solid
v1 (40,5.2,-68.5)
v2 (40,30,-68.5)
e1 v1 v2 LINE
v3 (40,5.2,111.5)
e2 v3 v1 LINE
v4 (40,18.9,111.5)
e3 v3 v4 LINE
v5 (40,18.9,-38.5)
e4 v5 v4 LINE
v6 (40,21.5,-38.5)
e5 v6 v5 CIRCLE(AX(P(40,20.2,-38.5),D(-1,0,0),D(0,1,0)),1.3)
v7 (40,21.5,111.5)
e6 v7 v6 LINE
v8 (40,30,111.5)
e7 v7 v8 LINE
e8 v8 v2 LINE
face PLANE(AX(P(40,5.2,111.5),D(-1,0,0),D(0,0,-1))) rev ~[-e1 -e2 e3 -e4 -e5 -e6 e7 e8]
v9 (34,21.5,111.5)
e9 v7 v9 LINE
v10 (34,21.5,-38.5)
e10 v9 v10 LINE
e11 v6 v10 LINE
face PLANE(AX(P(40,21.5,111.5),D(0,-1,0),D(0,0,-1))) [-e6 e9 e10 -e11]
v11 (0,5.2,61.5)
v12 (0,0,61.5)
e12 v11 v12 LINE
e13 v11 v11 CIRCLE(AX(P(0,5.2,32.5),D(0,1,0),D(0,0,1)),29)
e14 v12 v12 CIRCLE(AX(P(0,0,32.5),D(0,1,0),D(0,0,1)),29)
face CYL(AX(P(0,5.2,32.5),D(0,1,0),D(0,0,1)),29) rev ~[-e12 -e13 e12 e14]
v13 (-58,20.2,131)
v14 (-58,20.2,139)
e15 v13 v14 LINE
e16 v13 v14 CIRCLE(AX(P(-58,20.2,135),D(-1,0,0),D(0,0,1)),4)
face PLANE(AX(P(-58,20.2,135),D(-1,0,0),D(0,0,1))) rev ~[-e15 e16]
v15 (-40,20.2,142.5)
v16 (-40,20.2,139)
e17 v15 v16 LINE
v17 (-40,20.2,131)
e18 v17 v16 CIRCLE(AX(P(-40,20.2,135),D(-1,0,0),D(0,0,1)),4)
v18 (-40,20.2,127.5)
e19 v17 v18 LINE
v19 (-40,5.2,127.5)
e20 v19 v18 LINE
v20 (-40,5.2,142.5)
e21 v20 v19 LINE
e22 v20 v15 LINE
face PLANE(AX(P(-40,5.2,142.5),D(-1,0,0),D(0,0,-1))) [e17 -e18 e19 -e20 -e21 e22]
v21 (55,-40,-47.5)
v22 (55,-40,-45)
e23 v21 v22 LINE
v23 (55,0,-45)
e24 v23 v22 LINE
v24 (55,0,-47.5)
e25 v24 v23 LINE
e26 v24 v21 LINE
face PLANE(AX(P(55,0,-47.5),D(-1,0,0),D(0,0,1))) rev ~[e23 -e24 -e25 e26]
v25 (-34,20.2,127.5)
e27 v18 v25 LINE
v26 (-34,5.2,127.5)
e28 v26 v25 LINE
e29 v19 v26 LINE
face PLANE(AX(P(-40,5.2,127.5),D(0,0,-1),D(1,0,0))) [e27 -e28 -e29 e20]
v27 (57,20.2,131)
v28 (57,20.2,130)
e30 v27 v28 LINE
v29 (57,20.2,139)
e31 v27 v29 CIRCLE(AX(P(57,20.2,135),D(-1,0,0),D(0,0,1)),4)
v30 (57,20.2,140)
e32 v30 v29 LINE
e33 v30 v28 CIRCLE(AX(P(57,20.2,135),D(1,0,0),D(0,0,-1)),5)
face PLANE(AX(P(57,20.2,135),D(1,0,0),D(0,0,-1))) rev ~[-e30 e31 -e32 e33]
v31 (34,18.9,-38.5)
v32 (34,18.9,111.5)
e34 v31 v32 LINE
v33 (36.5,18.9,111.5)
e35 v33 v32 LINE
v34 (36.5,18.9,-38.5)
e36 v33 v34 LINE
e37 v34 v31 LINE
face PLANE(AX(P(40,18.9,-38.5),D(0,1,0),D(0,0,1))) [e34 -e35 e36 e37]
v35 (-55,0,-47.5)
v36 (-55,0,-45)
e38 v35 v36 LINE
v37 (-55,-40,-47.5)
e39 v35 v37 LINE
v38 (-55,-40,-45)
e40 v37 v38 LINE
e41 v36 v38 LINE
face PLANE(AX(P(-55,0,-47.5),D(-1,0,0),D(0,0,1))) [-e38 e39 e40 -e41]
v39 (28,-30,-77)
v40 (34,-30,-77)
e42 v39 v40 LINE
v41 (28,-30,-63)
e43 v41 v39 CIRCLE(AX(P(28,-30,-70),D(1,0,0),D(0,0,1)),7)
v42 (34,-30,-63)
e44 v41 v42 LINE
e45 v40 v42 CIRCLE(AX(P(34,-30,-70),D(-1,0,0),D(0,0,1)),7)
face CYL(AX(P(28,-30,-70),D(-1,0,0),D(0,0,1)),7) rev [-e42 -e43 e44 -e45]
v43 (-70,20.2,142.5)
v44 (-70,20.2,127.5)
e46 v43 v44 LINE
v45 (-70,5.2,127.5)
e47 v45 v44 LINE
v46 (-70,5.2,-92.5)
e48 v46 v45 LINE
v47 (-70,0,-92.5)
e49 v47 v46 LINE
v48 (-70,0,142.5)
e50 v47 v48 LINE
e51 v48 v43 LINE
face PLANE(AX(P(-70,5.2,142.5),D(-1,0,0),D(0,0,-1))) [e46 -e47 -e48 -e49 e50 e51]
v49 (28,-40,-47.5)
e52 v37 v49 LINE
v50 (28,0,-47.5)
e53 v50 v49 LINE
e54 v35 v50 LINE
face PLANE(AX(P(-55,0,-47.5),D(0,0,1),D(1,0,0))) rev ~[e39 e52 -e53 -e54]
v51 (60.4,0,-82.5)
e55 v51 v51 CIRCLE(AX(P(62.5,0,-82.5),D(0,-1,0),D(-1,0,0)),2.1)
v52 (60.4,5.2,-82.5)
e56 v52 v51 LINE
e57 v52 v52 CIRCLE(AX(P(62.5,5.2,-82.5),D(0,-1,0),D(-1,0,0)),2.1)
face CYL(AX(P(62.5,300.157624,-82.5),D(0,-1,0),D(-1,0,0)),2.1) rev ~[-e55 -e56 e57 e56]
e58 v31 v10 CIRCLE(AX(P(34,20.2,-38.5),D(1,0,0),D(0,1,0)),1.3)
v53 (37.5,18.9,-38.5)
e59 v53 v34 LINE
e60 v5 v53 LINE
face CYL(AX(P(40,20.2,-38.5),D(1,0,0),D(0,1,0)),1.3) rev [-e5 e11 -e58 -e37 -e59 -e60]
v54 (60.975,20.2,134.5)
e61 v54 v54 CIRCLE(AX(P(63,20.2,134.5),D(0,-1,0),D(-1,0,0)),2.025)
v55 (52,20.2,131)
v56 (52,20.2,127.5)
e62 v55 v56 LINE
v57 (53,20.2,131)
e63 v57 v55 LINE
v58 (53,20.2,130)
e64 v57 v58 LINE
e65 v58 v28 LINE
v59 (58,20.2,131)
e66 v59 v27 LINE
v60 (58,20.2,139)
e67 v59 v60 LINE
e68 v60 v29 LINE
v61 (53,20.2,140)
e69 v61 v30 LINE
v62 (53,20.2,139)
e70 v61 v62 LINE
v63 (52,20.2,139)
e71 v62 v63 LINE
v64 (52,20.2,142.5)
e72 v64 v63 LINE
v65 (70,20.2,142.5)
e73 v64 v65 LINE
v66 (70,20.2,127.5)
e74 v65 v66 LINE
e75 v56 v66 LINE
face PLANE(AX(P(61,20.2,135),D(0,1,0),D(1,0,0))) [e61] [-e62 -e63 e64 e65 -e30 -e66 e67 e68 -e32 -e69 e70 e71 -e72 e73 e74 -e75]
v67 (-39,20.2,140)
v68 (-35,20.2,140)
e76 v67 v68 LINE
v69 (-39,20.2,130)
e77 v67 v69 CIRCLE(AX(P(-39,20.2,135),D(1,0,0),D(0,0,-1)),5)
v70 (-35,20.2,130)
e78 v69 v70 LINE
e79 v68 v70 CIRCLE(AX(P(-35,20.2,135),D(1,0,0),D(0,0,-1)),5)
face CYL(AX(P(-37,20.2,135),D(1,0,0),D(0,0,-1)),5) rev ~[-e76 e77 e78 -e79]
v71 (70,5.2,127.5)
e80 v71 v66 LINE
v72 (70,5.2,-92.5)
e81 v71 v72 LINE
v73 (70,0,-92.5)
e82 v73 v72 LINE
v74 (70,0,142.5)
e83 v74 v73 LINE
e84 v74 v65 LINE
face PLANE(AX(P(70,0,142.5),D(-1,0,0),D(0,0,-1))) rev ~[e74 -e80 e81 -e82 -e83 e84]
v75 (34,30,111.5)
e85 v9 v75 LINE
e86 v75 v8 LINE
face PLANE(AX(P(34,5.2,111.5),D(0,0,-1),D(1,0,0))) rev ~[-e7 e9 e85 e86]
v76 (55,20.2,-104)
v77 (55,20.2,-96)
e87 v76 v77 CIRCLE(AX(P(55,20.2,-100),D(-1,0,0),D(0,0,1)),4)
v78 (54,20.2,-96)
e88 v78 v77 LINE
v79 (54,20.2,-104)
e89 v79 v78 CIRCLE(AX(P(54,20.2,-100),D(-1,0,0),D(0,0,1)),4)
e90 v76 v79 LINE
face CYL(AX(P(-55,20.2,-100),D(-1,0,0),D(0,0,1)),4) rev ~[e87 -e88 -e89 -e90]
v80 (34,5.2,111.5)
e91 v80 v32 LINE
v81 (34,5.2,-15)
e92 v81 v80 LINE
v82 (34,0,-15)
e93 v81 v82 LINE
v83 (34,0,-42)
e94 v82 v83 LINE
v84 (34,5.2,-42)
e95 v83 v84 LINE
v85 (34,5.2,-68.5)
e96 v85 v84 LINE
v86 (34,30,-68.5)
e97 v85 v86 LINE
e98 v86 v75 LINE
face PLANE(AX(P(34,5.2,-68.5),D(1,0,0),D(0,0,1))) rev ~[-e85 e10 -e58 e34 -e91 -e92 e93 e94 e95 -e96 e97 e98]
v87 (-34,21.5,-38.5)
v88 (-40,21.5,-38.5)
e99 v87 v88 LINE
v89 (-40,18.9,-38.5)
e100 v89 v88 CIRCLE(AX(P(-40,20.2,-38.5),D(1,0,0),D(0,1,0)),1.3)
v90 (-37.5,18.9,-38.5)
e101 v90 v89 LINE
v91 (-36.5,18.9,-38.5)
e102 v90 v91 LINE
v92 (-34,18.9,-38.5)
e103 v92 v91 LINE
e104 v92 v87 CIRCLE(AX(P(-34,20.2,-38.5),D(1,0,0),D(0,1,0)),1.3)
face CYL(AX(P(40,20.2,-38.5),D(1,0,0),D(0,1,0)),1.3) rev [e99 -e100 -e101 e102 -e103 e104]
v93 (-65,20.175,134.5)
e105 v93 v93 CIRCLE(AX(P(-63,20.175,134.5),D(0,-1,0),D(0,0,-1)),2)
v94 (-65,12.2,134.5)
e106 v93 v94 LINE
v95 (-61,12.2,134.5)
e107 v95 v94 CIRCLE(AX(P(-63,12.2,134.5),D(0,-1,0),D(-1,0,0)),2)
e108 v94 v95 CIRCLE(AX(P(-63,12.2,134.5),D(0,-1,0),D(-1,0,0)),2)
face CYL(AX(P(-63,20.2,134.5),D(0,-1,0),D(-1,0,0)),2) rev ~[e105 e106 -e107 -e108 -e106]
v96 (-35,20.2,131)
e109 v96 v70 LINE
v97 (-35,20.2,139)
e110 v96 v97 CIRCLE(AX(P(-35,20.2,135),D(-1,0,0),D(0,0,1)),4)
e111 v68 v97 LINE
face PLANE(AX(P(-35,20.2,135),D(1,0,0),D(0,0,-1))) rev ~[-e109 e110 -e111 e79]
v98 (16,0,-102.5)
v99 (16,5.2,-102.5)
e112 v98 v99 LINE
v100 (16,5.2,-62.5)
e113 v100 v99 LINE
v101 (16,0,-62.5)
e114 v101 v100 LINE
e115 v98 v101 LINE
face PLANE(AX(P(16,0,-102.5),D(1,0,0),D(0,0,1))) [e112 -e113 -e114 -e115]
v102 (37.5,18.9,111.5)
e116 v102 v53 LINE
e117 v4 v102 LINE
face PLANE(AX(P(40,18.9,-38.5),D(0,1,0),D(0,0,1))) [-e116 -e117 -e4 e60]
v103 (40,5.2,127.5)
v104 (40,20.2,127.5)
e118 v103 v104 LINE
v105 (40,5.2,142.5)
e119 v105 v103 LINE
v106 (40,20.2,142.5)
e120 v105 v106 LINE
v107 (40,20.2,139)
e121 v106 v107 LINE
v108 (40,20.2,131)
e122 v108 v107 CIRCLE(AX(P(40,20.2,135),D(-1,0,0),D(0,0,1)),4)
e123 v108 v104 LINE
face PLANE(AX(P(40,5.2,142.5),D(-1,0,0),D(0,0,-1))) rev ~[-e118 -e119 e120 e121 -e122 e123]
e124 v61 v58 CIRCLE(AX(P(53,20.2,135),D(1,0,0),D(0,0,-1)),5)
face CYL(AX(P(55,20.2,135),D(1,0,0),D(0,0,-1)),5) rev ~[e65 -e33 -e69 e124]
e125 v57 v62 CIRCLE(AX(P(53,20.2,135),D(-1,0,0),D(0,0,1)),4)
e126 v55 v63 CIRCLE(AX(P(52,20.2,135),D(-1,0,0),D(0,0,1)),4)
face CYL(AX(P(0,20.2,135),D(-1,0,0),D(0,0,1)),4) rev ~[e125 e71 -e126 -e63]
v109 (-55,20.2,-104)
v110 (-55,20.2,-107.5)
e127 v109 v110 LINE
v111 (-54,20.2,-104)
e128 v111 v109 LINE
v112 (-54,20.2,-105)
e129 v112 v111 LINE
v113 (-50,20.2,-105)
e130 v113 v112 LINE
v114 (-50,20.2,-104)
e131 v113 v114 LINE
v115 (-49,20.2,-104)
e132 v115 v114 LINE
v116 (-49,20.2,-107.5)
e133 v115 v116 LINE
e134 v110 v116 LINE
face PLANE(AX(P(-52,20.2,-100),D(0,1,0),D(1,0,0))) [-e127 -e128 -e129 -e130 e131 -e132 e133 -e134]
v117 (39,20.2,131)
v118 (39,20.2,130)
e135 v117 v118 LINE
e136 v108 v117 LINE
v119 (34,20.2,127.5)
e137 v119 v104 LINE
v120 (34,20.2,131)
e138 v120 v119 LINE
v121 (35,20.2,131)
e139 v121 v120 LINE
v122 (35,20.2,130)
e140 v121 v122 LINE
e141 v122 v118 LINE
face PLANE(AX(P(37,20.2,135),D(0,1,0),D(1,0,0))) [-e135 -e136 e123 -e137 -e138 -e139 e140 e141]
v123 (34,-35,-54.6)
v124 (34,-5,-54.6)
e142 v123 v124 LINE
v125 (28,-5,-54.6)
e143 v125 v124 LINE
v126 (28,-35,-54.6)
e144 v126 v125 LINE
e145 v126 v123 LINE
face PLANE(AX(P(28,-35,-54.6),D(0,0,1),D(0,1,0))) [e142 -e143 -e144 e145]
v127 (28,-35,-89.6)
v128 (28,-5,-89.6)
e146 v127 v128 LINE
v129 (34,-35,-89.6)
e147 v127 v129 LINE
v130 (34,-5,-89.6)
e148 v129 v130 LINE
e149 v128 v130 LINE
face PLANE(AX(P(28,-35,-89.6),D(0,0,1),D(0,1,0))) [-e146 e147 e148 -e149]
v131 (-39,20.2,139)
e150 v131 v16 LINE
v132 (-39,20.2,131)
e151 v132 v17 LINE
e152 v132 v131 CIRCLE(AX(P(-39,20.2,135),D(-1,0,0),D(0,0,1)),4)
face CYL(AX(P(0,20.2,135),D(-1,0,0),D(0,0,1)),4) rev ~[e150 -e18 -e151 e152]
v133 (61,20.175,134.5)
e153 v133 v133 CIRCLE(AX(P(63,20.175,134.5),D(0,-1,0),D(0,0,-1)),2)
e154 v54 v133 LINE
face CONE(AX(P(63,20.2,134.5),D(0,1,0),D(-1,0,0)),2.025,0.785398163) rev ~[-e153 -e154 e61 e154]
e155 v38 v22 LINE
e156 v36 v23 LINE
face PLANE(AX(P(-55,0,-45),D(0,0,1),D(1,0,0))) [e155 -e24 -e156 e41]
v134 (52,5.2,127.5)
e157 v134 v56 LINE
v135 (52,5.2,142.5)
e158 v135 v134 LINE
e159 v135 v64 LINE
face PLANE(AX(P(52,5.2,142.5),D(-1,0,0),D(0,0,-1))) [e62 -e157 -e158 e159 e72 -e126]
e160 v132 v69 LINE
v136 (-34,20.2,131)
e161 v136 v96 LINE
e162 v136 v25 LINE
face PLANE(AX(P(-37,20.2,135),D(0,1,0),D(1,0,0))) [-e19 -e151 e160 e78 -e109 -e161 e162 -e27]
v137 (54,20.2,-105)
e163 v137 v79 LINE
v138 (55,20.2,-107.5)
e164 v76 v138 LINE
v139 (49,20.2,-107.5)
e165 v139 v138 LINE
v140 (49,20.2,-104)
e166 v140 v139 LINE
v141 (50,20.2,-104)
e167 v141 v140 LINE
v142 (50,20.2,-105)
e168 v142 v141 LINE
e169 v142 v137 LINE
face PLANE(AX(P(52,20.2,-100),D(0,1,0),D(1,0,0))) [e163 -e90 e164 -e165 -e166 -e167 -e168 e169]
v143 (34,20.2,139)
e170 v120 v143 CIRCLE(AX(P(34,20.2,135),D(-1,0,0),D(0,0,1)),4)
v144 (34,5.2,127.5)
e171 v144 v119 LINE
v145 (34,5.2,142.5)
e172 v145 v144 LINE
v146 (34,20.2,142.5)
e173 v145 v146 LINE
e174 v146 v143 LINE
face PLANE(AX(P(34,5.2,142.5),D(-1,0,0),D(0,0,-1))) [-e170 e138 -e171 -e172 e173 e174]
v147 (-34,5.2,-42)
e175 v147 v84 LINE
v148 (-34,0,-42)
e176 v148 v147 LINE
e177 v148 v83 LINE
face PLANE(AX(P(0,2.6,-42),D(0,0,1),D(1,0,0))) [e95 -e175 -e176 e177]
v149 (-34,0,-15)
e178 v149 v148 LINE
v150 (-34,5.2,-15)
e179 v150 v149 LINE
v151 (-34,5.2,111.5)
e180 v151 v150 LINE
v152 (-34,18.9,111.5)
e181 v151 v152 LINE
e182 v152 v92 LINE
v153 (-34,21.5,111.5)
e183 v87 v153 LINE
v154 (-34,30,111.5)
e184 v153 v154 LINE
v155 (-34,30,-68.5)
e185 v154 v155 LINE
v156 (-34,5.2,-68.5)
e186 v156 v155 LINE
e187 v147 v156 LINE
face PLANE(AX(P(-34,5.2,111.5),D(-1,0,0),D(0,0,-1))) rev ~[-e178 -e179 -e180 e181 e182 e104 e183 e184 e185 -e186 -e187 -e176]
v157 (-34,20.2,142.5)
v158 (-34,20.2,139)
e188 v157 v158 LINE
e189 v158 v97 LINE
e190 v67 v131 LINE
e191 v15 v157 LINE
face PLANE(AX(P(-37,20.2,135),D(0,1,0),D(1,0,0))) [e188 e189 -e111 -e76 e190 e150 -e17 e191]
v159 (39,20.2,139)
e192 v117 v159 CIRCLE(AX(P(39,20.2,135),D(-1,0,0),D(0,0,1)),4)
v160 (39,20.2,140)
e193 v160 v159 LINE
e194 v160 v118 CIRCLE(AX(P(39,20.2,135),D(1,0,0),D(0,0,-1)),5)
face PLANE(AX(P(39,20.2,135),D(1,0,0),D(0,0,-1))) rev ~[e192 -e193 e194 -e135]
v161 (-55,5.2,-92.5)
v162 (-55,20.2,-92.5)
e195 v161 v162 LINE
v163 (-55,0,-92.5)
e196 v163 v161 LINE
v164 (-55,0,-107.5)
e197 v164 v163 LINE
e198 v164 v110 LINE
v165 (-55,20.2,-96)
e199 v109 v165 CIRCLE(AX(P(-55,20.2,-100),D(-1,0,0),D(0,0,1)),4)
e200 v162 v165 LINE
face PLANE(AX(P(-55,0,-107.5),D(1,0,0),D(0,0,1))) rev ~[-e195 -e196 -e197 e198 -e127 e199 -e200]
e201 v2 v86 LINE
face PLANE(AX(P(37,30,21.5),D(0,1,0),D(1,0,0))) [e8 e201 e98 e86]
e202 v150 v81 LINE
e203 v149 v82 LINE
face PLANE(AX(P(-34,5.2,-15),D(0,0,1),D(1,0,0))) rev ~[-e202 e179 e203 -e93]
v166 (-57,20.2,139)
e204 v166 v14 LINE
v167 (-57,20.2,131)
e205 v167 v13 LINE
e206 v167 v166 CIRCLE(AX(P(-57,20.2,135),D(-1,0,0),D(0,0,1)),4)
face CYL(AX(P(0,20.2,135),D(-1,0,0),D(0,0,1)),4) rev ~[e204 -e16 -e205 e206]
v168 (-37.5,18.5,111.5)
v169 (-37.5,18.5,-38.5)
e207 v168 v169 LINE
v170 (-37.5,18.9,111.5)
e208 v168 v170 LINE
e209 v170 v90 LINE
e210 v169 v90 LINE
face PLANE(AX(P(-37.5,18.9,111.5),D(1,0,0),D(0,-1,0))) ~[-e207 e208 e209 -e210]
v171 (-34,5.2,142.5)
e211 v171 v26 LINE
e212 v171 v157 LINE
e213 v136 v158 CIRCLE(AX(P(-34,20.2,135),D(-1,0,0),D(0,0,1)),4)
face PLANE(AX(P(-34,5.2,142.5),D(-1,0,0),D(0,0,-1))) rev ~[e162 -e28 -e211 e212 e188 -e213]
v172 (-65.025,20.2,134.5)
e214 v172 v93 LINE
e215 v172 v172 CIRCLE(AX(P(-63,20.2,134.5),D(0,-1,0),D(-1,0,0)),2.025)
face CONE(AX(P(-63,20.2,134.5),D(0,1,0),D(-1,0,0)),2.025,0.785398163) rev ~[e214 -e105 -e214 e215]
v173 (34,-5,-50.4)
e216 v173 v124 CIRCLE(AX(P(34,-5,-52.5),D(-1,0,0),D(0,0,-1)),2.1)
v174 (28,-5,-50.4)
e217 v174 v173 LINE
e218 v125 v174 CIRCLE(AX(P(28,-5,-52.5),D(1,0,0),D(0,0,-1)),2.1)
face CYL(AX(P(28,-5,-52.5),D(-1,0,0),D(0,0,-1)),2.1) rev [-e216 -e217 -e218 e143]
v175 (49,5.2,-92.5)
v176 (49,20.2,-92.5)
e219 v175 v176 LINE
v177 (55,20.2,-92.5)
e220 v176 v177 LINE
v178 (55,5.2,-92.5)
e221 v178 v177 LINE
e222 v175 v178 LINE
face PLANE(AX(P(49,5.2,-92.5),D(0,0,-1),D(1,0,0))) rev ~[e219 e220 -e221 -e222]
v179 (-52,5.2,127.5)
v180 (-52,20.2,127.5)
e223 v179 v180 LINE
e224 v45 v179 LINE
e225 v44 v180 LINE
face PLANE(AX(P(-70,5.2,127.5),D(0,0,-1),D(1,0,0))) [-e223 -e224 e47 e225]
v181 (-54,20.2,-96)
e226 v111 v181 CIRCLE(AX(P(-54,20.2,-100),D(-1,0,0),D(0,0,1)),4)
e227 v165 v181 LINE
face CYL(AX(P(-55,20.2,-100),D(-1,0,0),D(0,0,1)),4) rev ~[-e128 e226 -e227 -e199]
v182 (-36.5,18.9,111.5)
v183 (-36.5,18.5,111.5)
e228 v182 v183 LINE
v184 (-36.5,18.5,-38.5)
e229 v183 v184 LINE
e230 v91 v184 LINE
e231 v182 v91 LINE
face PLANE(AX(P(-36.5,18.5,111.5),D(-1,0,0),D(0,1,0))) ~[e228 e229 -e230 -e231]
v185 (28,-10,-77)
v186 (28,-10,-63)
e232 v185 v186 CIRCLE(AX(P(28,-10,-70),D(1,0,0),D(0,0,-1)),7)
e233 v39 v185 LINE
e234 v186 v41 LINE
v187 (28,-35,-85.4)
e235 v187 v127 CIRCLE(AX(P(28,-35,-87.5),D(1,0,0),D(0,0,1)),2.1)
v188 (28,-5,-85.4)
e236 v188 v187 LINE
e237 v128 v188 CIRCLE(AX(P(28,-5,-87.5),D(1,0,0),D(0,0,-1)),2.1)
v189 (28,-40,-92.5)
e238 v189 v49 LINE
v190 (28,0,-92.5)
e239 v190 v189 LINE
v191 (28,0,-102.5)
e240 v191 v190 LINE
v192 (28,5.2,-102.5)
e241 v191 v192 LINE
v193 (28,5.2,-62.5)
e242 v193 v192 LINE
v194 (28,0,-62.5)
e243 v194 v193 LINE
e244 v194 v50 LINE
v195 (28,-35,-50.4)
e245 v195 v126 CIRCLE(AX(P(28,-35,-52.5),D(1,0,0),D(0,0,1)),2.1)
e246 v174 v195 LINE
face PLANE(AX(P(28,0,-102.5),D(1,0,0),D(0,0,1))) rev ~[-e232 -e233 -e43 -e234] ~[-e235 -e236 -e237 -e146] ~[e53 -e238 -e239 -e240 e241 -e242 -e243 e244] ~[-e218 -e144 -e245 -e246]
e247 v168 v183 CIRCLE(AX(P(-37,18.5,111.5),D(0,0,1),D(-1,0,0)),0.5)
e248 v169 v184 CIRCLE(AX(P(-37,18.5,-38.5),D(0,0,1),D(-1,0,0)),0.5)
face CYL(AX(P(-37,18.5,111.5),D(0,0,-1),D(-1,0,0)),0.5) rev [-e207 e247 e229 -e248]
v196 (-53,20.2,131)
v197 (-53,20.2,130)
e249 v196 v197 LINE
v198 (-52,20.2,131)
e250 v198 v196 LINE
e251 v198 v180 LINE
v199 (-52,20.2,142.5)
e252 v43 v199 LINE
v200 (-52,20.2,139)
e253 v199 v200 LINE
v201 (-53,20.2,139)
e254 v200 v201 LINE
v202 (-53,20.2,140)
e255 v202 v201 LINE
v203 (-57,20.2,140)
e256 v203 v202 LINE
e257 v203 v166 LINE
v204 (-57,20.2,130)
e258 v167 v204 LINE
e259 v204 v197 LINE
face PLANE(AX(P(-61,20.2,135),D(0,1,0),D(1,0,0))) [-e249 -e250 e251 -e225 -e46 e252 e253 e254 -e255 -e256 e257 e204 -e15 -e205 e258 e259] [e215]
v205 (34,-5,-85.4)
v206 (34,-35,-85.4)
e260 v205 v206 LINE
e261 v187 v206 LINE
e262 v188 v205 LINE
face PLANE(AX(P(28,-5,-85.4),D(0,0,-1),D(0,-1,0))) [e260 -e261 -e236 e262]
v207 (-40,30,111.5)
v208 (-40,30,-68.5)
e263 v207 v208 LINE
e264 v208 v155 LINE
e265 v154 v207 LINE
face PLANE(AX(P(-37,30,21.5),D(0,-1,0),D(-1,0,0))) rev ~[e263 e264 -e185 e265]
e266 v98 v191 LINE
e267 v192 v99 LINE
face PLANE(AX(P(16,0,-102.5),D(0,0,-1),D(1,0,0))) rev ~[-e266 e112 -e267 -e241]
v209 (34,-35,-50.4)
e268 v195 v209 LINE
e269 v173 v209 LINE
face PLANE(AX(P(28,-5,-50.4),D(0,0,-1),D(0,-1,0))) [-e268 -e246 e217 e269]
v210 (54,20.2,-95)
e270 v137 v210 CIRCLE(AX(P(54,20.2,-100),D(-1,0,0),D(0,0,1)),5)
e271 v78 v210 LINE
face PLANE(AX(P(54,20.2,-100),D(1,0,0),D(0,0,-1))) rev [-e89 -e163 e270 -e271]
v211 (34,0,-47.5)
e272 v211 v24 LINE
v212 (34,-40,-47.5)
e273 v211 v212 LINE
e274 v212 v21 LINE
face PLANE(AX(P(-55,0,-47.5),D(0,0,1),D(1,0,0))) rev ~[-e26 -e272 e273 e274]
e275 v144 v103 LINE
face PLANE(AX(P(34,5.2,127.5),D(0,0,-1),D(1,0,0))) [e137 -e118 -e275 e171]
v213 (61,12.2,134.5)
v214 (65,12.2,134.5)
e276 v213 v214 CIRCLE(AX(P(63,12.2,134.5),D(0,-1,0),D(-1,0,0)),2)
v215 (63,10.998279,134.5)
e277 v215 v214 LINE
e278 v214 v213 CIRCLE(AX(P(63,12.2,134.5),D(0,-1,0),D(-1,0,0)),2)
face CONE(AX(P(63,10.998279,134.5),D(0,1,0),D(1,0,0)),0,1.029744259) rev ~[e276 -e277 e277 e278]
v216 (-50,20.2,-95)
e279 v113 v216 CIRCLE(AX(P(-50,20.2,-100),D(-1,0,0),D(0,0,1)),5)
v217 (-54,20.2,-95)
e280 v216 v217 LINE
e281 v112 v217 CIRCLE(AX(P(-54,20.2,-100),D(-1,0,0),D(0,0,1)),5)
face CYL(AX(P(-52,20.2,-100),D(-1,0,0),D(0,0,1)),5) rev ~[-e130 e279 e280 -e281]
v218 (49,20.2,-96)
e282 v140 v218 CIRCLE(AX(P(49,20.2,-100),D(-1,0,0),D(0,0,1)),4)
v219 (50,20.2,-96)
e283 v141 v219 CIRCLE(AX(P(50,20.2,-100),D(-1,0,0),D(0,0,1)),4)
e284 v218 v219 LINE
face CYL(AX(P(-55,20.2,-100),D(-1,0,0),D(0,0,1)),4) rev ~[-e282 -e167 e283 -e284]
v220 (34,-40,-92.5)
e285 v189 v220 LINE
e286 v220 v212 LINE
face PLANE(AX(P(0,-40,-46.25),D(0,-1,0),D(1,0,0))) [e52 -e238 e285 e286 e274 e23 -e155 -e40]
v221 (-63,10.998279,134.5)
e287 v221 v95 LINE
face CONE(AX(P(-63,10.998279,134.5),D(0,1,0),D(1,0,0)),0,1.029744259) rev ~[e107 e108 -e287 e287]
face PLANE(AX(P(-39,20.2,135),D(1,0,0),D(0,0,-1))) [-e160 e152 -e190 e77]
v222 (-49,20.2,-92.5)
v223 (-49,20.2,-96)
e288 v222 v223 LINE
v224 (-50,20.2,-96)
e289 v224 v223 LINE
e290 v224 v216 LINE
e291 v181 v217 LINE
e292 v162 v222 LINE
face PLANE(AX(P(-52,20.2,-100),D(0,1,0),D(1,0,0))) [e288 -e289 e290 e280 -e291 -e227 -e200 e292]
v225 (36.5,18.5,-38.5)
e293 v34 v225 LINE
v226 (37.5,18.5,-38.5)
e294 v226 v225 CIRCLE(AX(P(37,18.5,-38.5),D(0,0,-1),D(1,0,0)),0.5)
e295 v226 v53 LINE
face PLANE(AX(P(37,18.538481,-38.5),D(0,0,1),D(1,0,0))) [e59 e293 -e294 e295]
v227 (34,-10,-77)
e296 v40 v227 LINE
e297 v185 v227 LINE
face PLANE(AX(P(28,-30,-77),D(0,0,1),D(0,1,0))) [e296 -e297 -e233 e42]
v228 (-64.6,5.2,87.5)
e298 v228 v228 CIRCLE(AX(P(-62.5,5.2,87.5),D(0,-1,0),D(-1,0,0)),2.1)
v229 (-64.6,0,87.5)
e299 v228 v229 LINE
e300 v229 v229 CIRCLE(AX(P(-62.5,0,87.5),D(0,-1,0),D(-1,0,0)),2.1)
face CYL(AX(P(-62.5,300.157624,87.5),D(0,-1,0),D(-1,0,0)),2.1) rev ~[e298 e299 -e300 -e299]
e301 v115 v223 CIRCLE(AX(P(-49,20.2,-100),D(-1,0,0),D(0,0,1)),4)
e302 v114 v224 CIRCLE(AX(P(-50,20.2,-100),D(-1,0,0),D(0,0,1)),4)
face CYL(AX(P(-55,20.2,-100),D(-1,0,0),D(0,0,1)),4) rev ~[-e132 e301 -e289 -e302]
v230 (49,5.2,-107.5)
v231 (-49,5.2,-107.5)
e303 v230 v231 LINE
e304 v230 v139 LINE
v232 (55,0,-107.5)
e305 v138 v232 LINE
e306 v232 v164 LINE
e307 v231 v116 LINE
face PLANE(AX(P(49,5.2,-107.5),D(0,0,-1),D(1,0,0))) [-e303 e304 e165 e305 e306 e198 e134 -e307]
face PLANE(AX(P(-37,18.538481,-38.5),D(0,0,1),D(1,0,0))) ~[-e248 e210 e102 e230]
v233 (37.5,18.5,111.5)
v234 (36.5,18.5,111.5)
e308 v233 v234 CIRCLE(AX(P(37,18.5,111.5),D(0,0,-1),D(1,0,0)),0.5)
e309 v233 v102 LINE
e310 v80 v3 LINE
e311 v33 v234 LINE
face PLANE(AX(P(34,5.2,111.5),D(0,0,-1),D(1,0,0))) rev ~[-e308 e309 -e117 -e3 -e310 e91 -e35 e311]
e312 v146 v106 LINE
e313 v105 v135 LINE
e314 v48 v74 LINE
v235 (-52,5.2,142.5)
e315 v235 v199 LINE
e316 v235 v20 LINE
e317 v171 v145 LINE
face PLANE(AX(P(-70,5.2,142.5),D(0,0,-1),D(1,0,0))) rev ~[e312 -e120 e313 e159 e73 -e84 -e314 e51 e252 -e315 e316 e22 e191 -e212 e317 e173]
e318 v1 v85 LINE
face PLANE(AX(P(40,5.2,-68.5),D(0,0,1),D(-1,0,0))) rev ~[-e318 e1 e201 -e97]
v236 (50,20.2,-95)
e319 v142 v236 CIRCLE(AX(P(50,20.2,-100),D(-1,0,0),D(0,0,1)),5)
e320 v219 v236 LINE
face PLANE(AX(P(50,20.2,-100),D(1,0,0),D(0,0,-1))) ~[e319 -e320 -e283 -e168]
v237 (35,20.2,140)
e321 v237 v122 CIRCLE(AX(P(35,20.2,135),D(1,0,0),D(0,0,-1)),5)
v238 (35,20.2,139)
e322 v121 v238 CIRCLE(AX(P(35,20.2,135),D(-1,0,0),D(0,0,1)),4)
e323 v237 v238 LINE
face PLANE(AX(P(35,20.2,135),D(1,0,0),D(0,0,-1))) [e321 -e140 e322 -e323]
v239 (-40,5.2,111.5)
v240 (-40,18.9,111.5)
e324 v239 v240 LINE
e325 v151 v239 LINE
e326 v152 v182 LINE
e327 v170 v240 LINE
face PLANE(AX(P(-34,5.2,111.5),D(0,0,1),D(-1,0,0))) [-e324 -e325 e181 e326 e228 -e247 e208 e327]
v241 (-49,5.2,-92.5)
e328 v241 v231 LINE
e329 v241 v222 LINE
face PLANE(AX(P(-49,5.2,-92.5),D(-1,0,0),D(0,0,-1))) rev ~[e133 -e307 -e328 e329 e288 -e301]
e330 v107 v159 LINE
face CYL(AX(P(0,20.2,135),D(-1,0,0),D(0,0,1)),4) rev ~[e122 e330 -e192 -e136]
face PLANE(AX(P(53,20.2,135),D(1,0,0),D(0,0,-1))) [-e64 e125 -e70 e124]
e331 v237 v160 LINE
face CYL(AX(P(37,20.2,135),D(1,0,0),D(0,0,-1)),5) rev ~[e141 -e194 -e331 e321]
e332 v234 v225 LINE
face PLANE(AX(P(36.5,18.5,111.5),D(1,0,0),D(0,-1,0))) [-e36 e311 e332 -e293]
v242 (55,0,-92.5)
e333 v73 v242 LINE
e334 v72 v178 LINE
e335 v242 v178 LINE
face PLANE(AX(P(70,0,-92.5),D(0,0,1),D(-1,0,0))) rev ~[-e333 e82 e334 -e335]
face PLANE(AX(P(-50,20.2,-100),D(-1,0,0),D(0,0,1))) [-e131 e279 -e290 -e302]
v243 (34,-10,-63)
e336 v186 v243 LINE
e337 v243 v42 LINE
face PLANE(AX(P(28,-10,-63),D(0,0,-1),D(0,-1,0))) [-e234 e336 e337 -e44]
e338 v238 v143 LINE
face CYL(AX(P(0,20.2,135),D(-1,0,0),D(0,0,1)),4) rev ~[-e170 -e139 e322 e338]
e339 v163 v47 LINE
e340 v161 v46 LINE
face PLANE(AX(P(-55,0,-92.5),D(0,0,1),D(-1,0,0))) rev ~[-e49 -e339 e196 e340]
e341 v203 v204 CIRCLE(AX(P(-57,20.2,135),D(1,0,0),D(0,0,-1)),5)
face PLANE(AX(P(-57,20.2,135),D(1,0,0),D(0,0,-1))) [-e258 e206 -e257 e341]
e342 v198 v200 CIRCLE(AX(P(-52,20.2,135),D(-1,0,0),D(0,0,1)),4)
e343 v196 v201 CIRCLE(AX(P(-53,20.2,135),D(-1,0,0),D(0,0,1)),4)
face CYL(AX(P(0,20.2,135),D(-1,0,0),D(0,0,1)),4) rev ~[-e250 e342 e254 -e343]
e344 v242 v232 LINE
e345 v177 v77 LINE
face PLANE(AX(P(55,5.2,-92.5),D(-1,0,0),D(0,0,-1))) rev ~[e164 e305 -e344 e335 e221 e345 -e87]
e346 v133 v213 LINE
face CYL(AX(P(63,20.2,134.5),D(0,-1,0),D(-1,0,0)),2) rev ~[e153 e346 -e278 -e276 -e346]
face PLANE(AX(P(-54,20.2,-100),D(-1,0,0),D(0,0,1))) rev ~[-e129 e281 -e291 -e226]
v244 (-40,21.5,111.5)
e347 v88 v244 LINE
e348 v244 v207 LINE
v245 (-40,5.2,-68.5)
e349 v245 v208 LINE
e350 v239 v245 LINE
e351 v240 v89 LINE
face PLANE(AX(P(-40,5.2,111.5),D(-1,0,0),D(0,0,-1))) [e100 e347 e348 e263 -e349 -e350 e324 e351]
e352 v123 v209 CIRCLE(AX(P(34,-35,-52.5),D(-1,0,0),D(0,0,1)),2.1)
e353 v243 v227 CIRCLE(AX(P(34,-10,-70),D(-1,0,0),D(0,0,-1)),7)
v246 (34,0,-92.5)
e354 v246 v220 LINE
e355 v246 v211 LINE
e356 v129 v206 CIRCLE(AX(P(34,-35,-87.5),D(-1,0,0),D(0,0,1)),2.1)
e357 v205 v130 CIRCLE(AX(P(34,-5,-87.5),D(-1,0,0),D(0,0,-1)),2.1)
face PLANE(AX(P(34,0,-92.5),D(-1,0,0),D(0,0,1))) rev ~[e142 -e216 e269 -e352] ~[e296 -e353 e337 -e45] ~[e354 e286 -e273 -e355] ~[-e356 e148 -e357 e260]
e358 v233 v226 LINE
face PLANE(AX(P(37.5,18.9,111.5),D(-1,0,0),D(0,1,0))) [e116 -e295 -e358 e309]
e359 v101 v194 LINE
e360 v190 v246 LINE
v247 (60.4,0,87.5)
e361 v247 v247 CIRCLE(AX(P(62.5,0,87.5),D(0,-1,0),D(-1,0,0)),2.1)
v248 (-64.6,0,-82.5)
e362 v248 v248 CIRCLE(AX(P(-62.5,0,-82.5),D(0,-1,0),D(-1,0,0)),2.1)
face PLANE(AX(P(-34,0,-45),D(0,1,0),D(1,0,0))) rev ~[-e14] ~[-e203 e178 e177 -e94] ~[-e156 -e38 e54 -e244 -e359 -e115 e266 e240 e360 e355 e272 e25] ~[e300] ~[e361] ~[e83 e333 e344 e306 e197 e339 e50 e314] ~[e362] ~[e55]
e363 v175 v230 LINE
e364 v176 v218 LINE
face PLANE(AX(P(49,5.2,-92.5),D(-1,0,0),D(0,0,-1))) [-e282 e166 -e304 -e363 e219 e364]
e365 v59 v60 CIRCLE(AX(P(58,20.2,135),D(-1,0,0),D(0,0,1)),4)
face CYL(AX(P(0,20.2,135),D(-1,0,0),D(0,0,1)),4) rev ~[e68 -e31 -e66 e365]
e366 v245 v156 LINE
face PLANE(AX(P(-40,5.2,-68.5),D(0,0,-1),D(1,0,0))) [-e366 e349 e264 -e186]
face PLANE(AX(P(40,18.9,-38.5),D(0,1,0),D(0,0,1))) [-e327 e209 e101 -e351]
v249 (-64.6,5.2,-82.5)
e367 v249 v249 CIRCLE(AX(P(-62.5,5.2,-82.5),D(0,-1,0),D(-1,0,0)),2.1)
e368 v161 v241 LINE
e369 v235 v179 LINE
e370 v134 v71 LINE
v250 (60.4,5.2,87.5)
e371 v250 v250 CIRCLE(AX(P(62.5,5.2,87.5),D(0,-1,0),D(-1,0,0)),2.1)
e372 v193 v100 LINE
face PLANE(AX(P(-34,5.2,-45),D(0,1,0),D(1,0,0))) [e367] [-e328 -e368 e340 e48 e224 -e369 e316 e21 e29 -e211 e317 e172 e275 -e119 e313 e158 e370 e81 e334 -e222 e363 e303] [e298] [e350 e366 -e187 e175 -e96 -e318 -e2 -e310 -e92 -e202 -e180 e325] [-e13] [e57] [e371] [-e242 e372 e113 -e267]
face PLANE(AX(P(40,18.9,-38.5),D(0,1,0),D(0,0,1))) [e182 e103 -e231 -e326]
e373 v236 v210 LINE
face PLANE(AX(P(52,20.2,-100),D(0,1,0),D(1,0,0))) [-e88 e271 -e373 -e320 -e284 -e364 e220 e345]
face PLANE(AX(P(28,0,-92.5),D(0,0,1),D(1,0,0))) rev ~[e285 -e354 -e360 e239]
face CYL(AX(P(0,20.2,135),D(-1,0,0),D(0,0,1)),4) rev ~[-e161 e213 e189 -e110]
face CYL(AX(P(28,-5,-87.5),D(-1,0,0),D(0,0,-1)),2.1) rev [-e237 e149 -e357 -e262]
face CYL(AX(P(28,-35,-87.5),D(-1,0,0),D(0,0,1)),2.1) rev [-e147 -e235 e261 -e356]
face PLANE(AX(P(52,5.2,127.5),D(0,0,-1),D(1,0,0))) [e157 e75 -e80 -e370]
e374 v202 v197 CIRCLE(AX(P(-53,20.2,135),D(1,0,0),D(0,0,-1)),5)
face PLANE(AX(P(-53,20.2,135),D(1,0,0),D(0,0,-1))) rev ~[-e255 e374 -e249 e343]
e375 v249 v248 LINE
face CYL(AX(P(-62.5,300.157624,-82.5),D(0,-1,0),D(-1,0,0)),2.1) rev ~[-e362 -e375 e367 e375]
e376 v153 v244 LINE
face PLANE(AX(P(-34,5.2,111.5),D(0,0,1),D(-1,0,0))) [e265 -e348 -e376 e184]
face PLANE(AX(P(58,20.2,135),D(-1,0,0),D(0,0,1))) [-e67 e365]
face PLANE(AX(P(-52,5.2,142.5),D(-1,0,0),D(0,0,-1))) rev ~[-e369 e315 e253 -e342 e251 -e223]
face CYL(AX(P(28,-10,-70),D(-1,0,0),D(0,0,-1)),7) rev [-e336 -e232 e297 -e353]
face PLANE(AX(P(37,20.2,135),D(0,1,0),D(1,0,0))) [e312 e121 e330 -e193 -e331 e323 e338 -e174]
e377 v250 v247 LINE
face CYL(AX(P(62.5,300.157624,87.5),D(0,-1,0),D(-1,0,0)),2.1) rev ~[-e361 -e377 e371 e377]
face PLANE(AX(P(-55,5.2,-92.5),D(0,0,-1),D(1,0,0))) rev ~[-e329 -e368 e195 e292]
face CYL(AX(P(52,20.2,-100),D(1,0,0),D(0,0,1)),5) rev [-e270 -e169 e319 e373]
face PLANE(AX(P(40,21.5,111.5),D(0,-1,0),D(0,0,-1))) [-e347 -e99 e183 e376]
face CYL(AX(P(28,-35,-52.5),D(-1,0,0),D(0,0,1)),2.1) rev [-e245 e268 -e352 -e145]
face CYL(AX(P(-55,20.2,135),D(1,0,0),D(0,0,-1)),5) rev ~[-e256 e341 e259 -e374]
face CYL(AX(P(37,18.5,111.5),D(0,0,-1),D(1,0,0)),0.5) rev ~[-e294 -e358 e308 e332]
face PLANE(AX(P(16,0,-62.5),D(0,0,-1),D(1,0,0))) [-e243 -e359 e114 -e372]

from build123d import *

# Parameters (mm, degrees)
BOSS_EXTRUDE1_DEPTH             = 5.2
SKETCH2_R                       = 29
CUT_EXTRUDE1_DEPTH              = 5.2
SKETCH5_W                       = 6
SKETCH5_H                       = 15
BOSS_EXTRUDE3_DEPTH             = 15
SKETCH8_R                       = 5
CUT_EXTRUDE3_DEPTH              = 2
SKETCH9_R                       = 4
CUT_EXTRUDE4_DEPTH              = 191.628670456
BOSS_EXTRUDE2_DEPTH             = 24.8
CUT_EXTRUDE2_DEPTH              = 183.5
SKETCH15_W                      = 68
SKETCH15_H                      = 30
CUT_EXTRUDE5_DEPTH              = 10
SKETCH16_W                      = 6
SKETCH16_H                      = 45
BOSS_EXTRUDE4_DEPTH             = 40
CUT_EXTRUDE6_DEPTH              = 40
SKETCH19_W                      = 12
SKETCH19_H                      = 40
CUT_EXTRUDE7_DEPTH              = 40
F_4_0MM_DOWEL_HOLE2_D           = 4.2
SKETCH24_W                      = 110
SKETCH24_H                      = 2.5
BOSS_EXTRUDE5_DEPTH             = 40
SKETCH25_W                      = 68
SKETCH25_H                      = 5.2
BOSS_EXTRUDE6_DEPTH             = 3
SKETCH26_W                      = 18
SKETCH26_H                      = 15
SKETCH26_W_2                    = 6
BOSS_EXTRUDE7_DEPTH             = 15
SKETCH27_R                      = 4
CUT_EXTRUDE8_DEPTH              = 58
SKETCH28_R                      = 5
CUT_EXTRUDE9_DEPTH              = 2
LPATTERN1_COUNT                 = 2
LPATTERN1_PITCH                 = 18
LPATTERN2_COUNT                 = 2
LPATTERN2_PITCH                 = 92
LPATTERN2_COPY_1_SKETCH_R       = 5
LPATTERN2_COPY_1_DEPTH          = 2
F_4_0MM_DOWEL_HOLE1_D           = 4
F_4_0MM_DOWEL_HOLE1_DEPTH       = 8
F_4_0MM_DOWEL_HOLE1_CSINK_D     = 4.05
F_4_0MM_DOWEL_HOLE1_CSINK_ANGLE = 90
F_4_0MM_DOWEL_HOLE1_TIP         = 1.201721238


with BuildPart() as part:
    # Sketch1 → Boss-Extrude1 (new body)
    with BuildSketch(Plane(origin=(0, 0, 0), x_dir=(1, 0, 0), z_dir=(0, 1, 0))):
        Polygon((-70, -142.5), (70, -142.5), (70, -117.5), (70, 92.5), (55, 92.5), (55, 107.5), (-55, 107.5), (-55, 92.5), (-70, 92.5), (-70, -127.5), align=None)
    extrude(amount=BOSS_EXTRUDE1_DEPTH)

    # Sketch2 → Cut-Extrude1 (cut)
    with BuildSketch(Plane(origin=(0, 5.2, 0), x_dir=(1, 0, 0), z_dir=(0, 1, 0))):
        with Locations(Location((0, -32.5, 0), (0, 0, 270))):
            Circle(SKETCH2_R)
    extrude(amount=-CUT_EXTRUDE1_DEPTH, mode=Mode.SUBTRACT)

    # Sketch5 → Boss-Extrude3 (add)
    with BuildSketch(Plane(origin=(0, 5.2, 0), x_dir=(1, 0, 0), z_dir=(0, 1, 0))):
        with Locations((52, 100)):
            Rectangle(SKETCH5_W, SKETCH5_H)
        with Locations((-52, 100)):
            Rectangle(SKETCH5_W, SKETCH5_H)
    extrude(amount=BOSS_EXTRUDE3_DEPTH)

    # Sketch8 → Cut-Extrude3 (cut, symmetric)
    with BuildSketch(Plane.ZY.offset(52)):
        with Locations((-100, 20.2)):
            Circle(SKETCH8_R)
    cut_extrude3 = extrude(amount=CUT_EXTRUDE3_DEPTH, both=True, mode=Mode.SUBTRACT)

    # Mirror1: Cut-Extrude3 across plane
    add(cut_extrude3.mirror(Plane.ZY), mode=Mode.SUBTRACT)

    # Sketch9 → Cut-Extrude4 (cut, through all)
    with BuildSketch(Plane.ZY.offset(55)):
        with Locations((-100, 20.2)):
            Circle(SKETCH9_R)
    extrude(amount=-CUT_EXTRUDE4_DEPTH, mode=Mode.SUBTRACT)

    # Sketch3 → Boss-Extrude2 (add)
    with BuildSketch(Plane(origin=(0, 5.2, 0), x_dir=(1, 0, 0), z_dir=(0, 1, 0))):
        Polygon((-34, -32.5), (-34, -111.5), (-40, -111.5), (-40, 68.5), (-34, 68.5), align=None)
        Polygon((40, 68.5), (34, 68.5), (34, -32.5), (34, -111.5), (40, -111.5), align=None)
    extrude(amount=BOSS_EXTRUDE2_DEPTH)

    # Sketch4 → Cut-Extrude2 (cut, through all)
    with BuildSketch(Plane(origin=(40, 0, 0), x_dir=(0, 0, -1), z_dir=(1, 0, 0))):
        with BuildLine():
            Line((-111.5, 21.5), (38.5, 21.5))
            ThreePointArc((38.5, 21.5), (39.8, 20.2), (38.5, 18.9))
            Line((38.5, 18.9), (-111.5, 18.9))
            ThreePointArc((-111.5, 18.9), (-112.8, 20.2), (-111.5, 21.5))
        make_face()
    extrude(amount=-CUT_EXTRUDE2_DEPTH, mode=Mode.SUBTRACT)

    # Cut-Sweep4: sweep along a curve in space
    with BuildLine() as cut_sweep4_path:
        Line((40, 18.9, 111.5), (40, 18.9, -38.5))
    # Sketch10 → Cut-Sweep4 (sweep, cut)
    with BuildSketch(Plane.XY.offset(111.5)):
        with BuildLine():
            Line((36.5, 18.5), (36.5, 18.9))
            Line((36.5, 18.9), (37.5, 18.9))
            Line((37.5, 18.9), (37.5, 18.5))
            ThreePointArc((37.5, 18.5), (37, 18), (36.5, 18.5))
        make_face()
    cut_sweep4 = sweep(path=cut_sweep4_path.line, mode=Mode.SUBTRACT)

    # Mirror2: Cut-Sweep4 across plane
    add(cut_sweep4.mirror(Plane.ZY), mode=Mode.SUBTRACT)

    # Sketch15 → Cut-Extrude5 (cut)
    with BuildSketch(Plane(origin=(0, 5.2, 0), x_dir=(1, 0, 0), z_dir=(0, 1, 0))):
        with Locations((0, 30)):
            Rectangle(SKETCH15_W, SKETCH15_H)
    extrude(amount=-CUT_EXTRUDE5_DEPTH, mode=Mode.SUBTRACT)

    # Sketch16 → Boss-Extrude4 (add)
    with BuildSketch(Plane.XZ):
        with Locations((31, -70)):
            Rectangle(SKETCH16_W, SKETCH16_H)
    extrude(amount=BOSS_EXTRUDE4_DEPTH)

    # Sketch17 → Cut-Extrude6 (cut)
    with BuildSketch(Plane.ZY.offset(-28)):
        with BuildLine():
            Line((-85.4, -5), (-85.4, -35))
            ThreePointArc((-85.4, -35), (-87.5, -37.1), (-89.6, -35))
            Line((-89.6, -35), (-89.6, -5))
            ThreePointArc((-89.6, -5), (-87.5, -2.9), (-85.4, -5))
        make_face()
        with BuildLine():
            Line((-50.4, -5), (-50.4, -35))
            ThreePointArc((-50.4, -35), (-52.5, -37.1), (-54.6, -35))
            Line((-54.6, -35), (-54.6, -5))
            ThreePointArc((-54.6, -5), (-52.5, -2.9), (-50.4, -5))
        make_face()
        with BuildLine():
            Line((-63, -10), (-63, -30))
            ThreePointArc((-63, -30), (-70, -37), (-77, -30))
            Line((-77, -30), (-77, -10))
            ThreePointArc((-77, -10), (-70, -3), (-63, -10))
        make_face()
    extrude(amount=-CUT_EXTRUDE6_DEPTH, mode=Mode.SUBTRACT)

    # Sketch19 → Cut-Extrude7 (cut)
    with BuildSketch(Plane.XZ):
        with Locations((22, -82.5)):
            Rectangle(SKETCH19_W, SKETCH19_H)
    extrude(amount=-CUT_EXTRUDE7_DEPTH, mode=Mode.SUBTRACT)

    # Ø4.0mm Dowel Hole2 (through all)
    with Locations(Plane(origin=(0, 5.2, 0), x_dir=(1, 0, 0), z_dir=(0, 1, 0))):
        with Locations((-62.5, 82.5), (62.5, 82.5), (62.5, -87.5), (-62.5, -87.5)):
            Hole(F_4_0MM_DOWEL_HOLE2_D / 2)

    # Sketch24 → Boss-Extrude5 (add)
    with BuildSketch(Plane.XZ):
        with Locations((0, -46.25)):
            Rectangle(SKETCH24_W, SKETCH24_H)
    extrude(amount=BOSS_EXTRUDE5_DEPTH)

    # Sketch25 → Boss-Extrude6 (add)
    with BuildSketch(Plane.XY.offset(-45)):
        with Locations((0, 2.6)):
            Rectangle(SKETCH25_W, SKETCH25_H)
    extrude(amount=BOSS_EXTRUDE6_DEPTH)

    # Sketch26 → Boss-Extrude7 (add)
    with BuildSketch(Plane(origin=(0, 5.2, 0), x_dir=(1, 0, 0), z_dir=(0, 1, 0))):
        with Locations((-61, -135)):
            Rectangle(SKETCH26_W, SKETCH26_H)
        with Locations((61, -135)):
            Rectangle(SKETCH26_W, SKETCH26_H)
        with Locations((-37, -135)):
            Rectangle(SKETCH26_W_2, SKETCH26_H)
        with Locations((37, -135)):
            Rectangle(SKETCH26_W_2, SKETCH26_H)
    extrude(amount=BOSS_EXTRUDE7_DEPTH)

    # Sketch27 → Cut-Extrude8 (cut, symmetric)
    with BuildSketch(Plane.ZY):
        with Locations((135, 20.2)):
            Circle(SKETCH27_R)
    extrude(amount=CUT_EXTRUDE8_DEPTH, both=True, mode=Mode.SUBTRACT)

    # Sketch28 → Cut-Extrude9 (cut, symmetric)
    with BuildSketch(Plane(origin=(-55, 0, 0), x_dir=(0, 0, -1), z_dir=(1, 0, 0))):
        with Locations((-135, 20.2)):
            Circle(SKETCH28_R)
    cut_extrude9 = extrude(amount=CUT_EXTRUDE9_DEPTH, both=True, mode=Mode.SUBTRACT)

    # LPattern1: Cut-Extrude9 ×2
    with Locations(*[(i * LPATTERN1_PITCH, 0, 0) for i in range(1, LPATTERN1_COUNT)]):
        add(cut_extrude9, mode=Mode.SUBTRACT)

    # LPattern2: Cut-Extrude9 ×2
    with Locations(*[(i * LPATTERN2_PITCH, 0, 0) for i in range(1, LPATTERN2_COUNT)]):
        add(cut_extrude9, mode=Mode.SUBTRACT)

    # LPattern2 copy 1 sketch → LPattern2 copy 1 (cut, symmetric)
    with BuildSketch(Plane(origin=(55, 0, 0), x_dir=(0, 0, -1), z_dir=(1, 0, 0))):
        with Locations((-135, 20.2)):
            Circle(LPATTERN2_COPY_1_SKETCH_R)
    extrude(amount=LPATTERN2_COPY_1_DEPTH, both=True, mode=Mode.SUBTRACT)

    # Ø4.0mm Dowel Hole1
    with Locations(Plane(origin=(0, 20.2, 0), x_dir=(1, 0, 0), z_dir=(0, 1, 0))):
        with Locations((-63, -134.5), (63, -134.5)):
            CounterSinkHole(F_4_0MM_DOWEL_HOLE1_D / 2, F_4_0MM_DOWEL_HOLE1_CSINK_D / 2, depth=F_4_0MM_DOWEL_HOLE1_DEPTH, counter_sink_angle=F_4_0MM_DOWEL_HOLE1_CSINK_ANGLE)
            with Locations((0, 0, -(F_4_0MM_DOWEL_HOLE1_DEPTH + F_4_0MM_DOWEL_HOLE1_TIP / 2))):  # 118° drill point
                Cone(0, F_4_0MM_DOWEL_HOLE1_D / 2, F_4_0MM_DOWEL_HOLE1_TIP, mode=Mode.SUBTRACT)


solid = part.part
